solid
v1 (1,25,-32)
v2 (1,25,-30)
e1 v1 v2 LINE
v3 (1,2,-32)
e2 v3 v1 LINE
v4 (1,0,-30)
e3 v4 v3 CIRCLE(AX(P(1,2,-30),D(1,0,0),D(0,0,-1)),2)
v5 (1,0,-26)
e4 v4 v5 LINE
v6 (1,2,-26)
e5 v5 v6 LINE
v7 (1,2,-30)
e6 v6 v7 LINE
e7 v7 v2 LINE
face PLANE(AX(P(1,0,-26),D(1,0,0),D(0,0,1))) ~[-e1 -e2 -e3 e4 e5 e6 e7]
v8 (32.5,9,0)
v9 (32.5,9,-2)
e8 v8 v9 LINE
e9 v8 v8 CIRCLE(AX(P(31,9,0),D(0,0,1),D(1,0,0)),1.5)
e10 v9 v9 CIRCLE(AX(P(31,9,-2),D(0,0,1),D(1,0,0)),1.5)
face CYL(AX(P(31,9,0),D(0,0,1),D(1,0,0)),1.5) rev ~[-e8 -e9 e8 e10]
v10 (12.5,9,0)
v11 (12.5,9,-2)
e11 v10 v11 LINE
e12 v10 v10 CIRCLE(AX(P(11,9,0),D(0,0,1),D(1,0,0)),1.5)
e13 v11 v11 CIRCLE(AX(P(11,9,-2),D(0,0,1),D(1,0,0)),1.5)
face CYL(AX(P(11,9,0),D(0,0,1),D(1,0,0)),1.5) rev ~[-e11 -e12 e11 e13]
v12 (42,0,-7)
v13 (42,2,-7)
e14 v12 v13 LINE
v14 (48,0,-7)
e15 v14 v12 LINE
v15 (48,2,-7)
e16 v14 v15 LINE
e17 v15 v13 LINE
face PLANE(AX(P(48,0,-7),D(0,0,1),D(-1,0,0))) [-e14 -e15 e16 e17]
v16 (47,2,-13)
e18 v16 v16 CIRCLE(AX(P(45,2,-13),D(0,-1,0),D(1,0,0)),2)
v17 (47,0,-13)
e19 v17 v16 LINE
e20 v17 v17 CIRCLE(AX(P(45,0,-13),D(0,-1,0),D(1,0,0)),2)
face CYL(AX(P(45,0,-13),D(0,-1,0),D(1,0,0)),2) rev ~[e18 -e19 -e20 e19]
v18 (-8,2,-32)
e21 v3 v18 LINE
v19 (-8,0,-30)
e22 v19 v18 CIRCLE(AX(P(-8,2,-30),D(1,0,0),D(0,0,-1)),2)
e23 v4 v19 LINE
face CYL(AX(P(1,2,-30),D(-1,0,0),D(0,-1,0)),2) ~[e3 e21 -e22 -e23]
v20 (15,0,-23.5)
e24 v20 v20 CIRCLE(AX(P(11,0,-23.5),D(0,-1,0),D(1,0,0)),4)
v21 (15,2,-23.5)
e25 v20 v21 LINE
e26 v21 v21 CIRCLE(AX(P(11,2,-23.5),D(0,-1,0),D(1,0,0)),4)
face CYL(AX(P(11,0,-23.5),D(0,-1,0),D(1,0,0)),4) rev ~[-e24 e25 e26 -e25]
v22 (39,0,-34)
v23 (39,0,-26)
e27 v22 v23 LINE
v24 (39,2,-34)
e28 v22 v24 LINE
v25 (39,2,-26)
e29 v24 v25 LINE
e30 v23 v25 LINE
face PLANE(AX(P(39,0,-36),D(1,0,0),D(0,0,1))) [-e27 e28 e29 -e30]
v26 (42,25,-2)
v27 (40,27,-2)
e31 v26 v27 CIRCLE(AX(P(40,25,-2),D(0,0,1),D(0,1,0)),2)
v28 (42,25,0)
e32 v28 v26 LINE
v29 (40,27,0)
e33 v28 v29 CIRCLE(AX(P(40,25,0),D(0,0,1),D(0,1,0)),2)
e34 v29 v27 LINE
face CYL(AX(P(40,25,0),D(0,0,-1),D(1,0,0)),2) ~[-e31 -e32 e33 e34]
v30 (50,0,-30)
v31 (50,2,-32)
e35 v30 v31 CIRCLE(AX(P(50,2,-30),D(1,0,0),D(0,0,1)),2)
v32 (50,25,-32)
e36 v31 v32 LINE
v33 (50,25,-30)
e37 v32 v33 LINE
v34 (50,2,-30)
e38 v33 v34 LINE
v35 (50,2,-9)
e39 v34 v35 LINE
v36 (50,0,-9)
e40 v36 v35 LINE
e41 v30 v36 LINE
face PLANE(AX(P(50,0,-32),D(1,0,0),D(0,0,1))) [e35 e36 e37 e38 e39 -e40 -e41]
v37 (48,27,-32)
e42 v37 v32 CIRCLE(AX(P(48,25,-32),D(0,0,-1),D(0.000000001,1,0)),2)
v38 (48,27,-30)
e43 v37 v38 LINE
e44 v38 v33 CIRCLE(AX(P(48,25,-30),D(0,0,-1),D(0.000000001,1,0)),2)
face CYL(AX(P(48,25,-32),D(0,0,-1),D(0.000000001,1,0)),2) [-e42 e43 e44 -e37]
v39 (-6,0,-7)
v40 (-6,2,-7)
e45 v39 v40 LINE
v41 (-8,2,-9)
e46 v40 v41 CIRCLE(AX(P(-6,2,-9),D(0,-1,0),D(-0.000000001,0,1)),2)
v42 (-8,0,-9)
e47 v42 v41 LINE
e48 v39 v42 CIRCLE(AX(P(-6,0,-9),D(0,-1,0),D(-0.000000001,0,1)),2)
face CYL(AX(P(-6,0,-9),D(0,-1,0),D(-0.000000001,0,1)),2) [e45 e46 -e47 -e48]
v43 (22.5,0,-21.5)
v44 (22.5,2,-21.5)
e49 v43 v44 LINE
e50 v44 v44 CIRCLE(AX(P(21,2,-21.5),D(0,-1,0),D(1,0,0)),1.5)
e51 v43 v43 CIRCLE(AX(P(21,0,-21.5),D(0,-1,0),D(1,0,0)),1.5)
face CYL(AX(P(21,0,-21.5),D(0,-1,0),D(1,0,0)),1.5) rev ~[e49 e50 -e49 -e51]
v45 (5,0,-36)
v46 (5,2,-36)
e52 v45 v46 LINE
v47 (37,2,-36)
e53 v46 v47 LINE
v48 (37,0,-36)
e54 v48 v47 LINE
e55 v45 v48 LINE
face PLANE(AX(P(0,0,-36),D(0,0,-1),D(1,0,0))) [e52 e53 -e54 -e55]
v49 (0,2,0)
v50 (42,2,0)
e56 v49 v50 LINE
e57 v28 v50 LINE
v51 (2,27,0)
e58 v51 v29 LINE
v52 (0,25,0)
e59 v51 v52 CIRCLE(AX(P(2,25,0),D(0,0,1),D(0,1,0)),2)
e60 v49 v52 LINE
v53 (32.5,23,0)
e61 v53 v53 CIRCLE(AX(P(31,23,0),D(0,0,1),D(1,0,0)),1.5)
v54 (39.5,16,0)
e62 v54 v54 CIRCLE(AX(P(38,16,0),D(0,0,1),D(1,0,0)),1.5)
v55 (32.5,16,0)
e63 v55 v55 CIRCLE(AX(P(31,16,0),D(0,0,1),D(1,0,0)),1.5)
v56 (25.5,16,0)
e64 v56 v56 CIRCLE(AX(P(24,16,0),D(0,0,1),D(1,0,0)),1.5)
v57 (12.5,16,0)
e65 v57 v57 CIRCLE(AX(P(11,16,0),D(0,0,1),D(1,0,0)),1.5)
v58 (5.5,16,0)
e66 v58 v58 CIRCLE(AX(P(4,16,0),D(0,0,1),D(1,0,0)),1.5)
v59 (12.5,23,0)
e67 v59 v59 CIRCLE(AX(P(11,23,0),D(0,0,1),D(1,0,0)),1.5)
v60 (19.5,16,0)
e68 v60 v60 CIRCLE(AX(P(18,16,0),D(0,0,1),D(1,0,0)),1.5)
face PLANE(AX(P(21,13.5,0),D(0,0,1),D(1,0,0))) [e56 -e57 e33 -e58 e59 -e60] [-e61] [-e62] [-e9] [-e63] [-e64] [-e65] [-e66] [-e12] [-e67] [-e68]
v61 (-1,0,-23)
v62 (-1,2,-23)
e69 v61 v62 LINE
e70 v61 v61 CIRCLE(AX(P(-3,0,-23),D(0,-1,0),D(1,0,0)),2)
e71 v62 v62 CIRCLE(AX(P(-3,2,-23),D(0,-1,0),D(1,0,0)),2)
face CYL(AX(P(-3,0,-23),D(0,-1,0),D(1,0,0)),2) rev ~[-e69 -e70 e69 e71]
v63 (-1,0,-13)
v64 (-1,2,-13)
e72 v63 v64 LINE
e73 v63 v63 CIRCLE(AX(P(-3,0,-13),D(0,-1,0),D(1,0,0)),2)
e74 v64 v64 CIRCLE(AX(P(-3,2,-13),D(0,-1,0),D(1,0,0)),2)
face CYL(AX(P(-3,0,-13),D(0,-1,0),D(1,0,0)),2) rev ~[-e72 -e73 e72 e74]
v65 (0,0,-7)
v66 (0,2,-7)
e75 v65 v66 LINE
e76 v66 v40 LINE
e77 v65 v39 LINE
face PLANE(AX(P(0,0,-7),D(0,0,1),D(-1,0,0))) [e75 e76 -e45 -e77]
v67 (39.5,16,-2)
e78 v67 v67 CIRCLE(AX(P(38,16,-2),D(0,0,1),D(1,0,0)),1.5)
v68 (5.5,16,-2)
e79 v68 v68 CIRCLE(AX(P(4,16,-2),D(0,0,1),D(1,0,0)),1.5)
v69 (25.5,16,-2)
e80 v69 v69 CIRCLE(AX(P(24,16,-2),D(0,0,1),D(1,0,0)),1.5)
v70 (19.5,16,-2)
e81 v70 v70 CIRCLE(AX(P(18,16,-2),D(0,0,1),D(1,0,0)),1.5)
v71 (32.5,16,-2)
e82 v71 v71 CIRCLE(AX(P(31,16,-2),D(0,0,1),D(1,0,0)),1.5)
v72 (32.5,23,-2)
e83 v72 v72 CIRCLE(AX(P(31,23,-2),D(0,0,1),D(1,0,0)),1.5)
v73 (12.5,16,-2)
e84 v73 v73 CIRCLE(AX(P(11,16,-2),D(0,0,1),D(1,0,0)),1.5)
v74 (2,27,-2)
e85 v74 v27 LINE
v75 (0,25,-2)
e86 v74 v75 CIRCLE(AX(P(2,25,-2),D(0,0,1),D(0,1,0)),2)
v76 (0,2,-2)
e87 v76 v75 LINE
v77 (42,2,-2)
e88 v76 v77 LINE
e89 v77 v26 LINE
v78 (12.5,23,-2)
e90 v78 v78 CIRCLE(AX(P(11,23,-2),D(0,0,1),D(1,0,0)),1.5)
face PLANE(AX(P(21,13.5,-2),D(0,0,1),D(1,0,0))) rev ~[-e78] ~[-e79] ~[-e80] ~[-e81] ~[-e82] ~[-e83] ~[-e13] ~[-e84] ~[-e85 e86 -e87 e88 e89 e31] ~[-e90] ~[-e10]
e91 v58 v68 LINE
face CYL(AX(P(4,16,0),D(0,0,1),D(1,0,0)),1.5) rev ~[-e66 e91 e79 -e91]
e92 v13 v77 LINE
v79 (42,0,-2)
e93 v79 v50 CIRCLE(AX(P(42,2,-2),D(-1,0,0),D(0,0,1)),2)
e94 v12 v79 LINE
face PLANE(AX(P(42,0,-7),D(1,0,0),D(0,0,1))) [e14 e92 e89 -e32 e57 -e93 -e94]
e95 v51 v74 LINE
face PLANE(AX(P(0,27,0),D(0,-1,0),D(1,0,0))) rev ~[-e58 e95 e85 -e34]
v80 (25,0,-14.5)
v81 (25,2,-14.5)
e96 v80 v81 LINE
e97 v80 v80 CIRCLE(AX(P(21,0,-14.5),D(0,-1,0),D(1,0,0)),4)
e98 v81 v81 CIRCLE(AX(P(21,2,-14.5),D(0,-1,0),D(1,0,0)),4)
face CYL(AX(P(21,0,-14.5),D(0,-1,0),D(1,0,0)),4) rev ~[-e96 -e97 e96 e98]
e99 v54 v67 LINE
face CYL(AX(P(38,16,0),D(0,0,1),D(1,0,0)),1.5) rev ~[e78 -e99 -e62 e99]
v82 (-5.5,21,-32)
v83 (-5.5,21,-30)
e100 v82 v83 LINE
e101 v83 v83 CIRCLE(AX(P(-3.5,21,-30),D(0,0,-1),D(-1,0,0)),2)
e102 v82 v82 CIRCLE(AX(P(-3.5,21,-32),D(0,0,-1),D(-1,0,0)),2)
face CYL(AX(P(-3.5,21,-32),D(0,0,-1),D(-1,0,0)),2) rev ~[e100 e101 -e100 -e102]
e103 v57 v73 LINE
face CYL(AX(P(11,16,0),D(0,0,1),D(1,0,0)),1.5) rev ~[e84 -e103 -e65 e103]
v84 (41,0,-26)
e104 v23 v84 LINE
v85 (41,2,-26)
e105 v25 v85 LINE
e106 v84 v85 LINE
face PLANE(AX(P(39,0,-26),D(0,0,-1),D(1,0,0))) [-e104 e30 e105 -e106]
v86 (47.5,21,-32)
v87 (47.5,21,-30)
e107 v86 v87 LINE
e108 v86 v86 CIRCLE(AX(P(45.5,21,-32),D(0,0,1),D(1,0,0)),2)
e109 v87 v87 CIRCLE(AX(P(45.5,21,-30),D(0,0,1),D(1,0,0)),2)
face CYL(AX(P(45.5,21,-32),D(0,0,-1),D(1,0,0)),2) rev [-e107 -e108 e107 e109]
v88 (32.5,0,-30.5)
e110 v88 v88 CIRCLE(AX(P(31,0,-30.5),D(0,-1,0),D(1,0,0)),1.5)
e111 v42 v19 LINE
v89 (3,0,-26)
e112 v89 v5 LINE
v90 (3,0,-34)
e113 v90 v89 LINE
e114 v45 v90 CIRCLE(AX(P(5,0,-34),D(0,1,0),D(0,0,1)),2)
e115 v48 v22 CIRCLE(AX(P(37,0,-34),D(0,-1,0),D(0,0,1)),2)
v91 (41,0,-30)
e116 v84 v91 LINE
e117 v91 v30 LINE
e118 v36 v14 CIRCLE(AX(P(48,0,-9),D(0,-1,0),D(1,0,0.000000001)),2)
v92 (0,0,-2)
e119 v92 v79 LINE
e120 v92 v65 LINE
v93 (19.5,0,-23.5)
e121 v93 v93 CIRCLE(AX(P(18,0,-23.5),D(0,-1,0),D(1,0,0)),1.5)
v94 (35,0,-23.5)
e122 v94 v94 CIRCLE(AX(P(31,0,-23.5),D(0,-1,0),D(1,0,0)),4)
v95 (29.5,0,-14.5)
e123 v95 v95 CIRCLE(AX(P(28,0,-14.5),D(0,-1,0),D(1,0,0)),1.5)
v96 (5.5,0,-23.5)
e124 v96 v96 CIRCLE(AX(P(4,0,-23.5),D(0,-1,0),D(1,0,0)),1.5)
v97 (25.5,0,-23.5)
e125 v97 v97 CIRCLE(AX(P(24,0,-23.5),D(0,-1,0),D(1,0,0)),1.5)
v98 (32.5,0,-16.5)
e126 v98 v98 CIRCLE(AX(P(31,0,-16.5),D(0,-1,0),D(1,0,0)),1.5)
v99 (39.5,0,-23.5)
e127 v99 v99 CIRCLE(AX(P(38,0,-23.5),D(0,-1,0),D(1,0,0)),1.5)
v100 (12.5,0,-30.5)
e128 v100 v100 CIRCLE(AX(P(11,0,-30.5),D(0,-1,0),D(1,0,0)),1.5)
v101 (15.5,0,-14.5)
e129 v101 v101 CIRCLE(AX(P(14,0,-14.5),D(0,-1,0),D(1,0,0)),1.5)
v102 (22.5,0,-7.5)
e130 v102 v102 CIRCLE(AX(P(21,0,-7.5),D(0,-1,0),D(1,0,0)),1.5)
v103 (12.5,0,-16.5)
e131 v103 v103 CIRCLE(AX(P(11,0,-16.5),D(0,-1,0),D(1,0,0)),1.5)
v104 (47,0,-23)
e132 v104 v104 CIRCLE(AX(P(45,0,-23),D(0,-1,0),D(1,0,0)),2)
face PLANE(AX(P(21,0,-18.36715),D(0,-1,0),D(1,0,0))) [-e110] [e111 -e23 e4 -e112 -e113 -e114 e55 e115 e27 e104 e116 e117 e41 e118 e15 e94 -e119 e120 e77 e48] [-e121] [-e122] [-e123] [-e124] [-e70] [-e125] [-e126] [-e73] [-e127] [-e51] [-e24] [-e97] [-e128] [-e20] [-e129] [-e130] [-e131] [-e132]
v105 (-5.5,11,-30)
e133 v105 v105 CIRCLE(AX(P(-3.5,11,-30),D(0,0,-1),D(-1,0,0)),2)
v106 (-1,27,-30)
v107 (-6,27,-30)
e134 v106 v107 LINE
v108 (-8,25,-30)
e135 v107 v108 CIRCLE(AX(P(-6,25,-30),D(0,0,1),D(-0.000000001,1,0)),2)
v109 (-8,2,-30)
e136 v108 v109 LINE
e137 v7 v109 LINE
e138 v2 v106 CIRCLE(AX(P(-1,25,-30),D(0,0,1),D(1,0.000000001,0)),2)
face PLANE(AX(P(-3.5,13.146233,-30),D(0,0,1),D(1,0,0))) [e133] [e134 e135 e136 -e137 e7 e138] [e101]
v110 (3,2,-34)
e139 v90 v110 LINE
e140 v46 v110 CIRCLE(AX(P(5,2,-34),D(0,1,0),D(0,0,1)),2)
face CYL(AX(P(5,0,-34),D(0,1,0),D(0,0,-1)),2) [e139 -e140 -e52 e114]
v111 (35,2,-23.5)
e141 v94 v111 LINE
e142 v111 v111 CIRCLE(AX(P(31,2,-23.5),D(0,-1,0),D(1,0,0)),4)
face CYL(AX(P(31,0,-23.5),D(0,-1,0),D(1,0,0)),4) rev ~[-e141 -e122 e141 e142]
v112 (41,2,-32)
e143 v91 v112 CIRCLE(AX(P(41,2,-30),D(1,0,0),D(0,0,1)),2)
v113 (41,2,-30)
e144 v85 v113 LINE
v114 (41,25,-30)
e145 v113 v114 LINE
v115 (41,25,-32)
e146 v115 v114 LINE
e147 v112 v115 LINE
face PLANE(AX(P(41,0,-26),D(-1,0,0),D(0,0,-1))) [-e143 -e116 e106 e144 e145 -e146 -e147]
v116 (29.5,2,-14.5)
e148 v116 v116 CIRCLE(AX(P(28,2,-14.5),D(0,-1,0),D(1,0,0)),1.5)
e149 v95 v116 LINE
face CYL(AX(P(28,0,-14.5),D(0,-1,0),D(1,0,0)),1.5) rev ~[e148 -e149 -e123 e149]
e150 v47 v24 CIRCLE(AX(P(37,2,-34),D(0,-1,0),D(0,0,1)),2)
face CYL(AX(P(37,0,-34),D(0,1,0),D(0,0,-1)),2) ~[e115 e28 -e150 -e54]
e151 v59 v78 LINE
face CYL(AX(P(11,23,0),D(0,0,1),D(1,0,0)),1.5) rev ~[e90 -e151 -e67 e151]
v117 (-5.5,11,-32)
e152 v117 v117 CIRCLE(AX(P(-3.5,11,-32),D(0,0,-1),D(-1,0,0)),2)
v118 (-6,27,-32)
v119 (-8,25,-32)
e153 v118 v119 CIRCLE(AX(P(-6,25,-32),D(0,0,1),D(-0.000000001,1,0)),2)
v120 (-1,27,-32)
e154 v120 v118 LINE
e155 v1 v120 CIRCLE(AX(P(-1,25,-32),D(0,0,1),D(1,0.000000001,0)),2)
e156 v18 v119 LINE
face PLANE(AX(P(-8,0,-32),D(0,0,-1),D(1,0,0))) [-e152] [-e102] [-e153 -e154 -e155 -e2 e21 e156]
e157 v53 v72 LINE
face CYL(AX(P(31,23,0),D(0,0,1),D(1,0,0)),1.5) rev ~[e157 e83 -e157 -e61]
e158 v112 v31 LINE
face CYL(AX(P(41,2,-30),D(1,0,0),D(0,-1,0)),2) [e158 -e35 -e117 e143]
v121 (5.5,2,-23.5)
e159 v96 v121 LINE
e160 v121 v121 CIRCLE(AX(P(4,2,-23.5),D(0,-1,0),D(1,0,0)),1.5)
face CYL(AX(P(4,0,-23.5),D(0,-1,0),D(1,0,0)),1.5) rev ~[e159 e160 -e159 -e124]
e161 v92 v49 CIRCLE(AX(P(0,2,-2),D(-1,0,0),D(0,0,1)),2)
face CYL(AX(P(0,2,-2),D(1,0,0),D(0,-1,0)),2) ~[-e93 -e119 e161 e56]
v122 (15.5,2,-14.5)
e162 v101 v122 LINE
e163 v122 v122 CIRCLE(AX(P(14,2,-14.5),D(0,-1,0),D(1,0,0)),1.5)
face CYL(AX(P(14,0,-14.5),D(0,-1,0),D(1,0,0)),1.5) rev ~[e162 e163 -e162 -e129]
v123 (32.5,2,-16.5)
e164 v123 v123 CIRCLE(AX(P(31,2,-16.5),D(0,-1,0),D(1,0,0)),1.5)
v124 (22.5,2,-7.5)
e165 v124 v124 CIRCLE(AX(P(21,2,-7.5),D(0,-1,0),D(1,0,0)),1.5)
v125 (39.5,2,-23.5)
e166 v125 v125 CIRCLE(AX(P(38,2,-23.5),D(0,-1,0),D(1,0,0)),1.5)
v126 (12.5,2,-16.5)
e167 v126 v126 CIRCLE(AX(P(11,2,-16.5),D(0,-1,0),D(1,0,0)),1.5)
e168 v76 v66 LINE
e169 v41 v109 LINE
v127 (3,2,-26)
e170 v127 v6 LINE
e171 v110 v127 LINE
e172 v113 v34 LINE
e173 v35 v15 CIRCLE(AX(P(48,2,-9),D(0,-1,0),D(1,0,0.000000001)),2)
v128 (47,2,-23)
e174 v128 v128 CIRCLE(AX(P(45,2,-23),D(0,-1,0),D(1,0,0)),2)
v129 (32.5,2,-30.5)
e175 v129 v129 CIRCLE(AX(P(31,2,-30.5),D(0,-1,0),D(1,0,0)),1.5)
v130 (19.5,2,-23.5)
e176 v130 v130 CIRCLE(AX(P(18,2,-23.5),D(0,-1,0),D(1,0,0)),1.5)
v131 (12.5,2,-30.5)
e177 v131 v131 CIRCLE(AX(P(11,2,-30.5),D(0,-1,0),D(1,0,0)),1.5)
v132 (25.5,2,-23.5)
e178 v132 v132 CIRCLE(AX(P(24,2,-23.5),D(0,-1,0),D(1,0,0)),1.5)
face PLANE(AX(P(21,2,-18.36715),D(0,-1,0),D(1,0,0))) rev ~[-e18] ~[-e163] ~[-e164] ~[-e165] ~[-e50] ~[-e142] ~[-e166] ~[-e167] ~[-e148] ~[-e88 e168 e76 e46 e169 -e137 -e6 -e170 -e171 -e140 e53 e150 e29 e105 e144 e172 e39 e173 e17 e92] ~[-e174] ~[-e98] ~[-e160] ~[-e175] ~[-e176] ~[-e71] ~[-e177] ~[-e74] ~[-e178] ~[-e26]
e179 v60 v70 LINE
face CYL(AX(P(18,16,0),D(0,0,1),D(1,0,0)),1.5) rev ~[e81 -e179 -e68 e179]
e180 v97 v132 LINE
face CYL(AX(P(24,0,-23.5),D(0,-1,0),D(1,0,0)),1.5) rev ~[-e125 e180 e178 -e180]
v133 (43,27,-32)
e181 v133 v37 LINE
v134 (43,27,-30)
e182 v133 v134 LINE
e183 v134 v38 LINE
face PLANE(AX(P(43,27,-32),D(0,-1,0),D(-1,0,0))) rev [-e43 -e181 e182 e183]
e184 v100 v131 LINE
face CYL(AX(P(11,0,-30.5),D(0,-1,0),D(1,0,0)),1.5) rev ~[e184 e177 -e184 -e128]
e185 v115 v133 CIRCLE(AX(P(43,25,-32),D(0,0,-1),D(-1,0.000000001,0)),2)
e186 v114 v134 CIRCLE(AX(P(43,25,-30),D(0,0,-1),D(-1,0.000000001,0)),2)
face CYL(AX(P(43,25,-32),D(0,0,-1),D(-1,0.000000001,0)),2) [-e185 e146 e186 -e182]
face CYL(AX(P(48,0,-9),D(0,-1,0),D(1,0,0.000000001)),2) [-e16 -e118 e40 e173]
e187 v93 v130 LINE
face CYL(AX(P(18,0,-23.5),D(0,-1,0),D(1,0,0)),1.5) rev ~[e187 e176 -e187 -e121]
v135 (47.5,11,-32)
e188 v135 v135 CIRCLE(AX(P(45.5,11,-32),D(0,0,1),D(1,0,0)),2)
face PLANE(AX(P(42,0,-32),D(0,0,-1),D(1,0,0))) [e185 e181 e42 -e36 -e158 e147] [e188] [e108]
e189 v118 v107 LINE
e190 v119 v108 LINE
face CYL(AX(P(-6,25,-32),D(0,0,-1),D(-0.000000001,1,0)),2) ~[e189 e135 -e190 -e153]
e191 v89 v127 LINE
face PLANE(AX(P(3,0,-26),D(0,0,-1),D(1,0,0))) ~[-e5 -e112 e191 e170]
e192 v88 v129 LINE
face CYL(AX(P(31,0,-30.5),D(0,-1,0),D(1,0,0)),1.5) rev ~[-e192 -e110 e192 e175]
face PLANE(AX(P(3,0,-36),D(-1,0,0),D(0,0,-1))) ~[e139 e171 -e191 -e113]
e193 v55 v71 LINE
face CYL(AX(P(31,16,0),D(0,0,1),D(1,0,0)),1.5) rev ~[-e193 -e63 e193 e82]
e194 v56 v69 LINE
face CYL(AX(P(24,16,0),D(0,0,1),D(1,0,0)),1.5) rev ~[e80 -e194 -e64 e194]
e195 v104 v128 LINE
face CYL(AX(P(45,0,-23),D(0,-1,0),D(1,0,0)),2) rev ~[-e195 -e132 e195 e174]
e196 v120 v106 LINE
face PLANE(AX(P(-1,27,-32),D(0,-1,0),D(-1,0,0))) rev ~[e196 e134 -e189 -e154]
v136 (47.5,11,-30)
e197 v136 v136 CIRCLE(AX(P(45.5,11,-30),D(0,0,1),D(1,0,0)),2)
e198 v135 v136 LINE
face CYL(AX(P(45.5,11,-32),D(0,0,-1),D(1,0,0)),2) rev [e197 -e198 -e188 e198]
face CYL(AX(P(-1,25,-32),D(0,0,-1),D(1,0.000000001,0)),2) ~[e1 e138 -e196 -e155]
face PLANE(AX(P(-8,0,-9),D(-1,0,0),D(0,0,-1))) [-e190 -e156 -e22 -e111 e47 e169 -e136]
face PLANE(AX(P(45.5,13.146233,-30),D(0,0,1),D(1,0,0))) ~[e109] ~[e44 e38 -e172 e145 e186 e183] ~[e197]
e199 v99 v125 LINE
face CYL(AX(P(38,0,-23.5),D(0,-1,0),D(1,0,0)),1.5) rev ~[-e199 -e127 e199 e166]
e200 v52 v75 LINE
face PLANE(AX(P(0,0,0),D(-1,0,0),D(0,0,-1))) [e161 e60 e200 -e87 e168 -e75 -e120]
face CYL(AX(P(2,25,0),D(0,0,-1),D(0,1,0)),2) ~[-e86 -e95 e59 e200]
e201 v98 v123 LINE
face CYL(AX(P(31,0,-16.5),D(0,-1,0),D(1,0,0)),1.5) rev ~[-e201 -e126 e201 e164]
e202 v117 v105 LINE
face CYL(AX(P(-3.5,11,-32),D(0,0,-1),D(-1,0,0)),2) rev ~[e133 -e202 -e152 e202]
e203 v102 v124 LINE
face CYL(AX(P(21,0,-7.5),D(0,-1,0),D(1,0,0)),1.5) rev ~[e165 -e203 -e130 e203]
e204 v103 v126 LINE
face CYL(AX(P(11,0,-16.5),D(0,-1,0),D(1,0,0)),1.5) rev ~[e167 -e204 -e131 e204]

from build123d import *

# Parameters (mm, degrees)
SKETCH1_W           = 42
SKETCH1_H           = 27
SKETCH1_R           = 1.5
BOSS_EXTRUDE1_DEPTH = 2
SKETCH2_R           = 2
SKETCH2_R_2         = 4
SKETCH2_R_3         = 1.5
BOSS_EXTRUDE2_DEPTH = 2
CUT_EXTRUDE1_DEPTH  = 2
FILLET1_R           = 2
FILLET2_R           = 2
FILLET3_R           = 2
FILLET4_R           = 2
FILLET5_R           = 2
BOSS_EXTRUDE3_DEPTH = 2
FILLET6_R           = 2
FILLET7_R           = 2
SKETCH5_R           = 2
CUT_EXTRUDE2_DEPTH  = 2


with BuildPart() as part:
    # Sketch1 → Boss-Extrude1 (new body)
    with BuildSketch(Plane.XY):
        with Locations((21, 13.5)):
            Rectangle(SKETCH1_W, SKETCH1_H)
        with Locations((11, 16)):
            Circle(SKETCH1_R, mode=Mode.SUBTRACT)
        with Locations((11, 23)):
            Circle(SKETCH1_R, mode=Mode.SUBTRACT)
        with Locations((18, 16)):
            Circle(SKETCH1_R, mode=Mode.SUBTRACT)
        with Locations((4, 16)):
            Circle(SKETCH1_R, mode=Mode.SUBTRACT)
        with Locations((11, 9)):
            Circle(SKETCH1_R, mode=Mode.SUBTRACT)
        with Locations((31, 16)):
            Circle(SKETCH1_R, mode=Mode.SUBTRACT)
        with Locations((38, 16)):
            Circle(SKETCH1_R, mode=Mode.SUBTRACT)
        with Locations((31, 23)):
            Circle(SKETCH1_R, mode=Mode.SUBTRACT)
        with Locations((24, 16)):
            Circle(SKETCH1_R, mode=Mode.SUBTRACT)
        with Locations((31, 9)):
            Circle(SKETCH1_R, mode=Mode.SUBTRACT)
    extrude(amount=-BOSS_EXTRUDE1_DEPTH)

    # Sketch2 → Boss-Extrude2 (add)
    with BuildSketch(Plane.XZ):
        with BuildLine():
            Line((0, -32), (0, -36))
            Line((0, -36), (42, -36))
            Line((42, -36), (42, -32))
            Line((42, -32), (50, -32))
            Line((50, -32), (50, -9))
            ThreePointArc((50, -9), (49.414213562, -7.585786438), (48, -7))
            Line((48, -7), (42, -7))
            Line((42, -7), (42, 0))
            Line((42, 0), (0, 0))
            Line((0, 0), (0, -7))
            Line((0, -7), (-6, -7))
            ThreePointArc((-6, -7), (-7.414213562, -7.585786438), (-8, -9))
            Line((-8, -9), (-8, -32))
            Line((-8, -32), (0, -32))
        make_face()
        with Locations((45, -13)):
            Circle(SKETCH2_R, mode=Mode.SUBTRACT)
        with Locations((45, -23)):
            Circle(SKETCH2_R, mode=Mode.SUBTRACT)
        with Locations((-3, -13)):
            Circle(SKETCH2_R, mode=Mode.SUBTRACT)
        with Locations((-3, -23)):
            Circle(SKETCH2_R, mode=Mode.SUBTRACT)
        with Locations((11, -23.5)):
            Circle(SKETCH2_R_2, mode=Mode.SUBTRACT)
        with Locations((31, -23.5)):
            Circle(SKETCH2_R_2, mode=Mode.SUBTRACT)
        with Locations((21, -14.5)):
            Circle(SKETCH2_R_2, mode=Mode.SUBTRACT)
        with Locations((11, -16.5)):
            Circle(SKETCH2_R_3, mode=Mode.SUBTRACT)
        with Locations((11, -30.5)):
            Circle(SKETCH2_R_3, mode=Mode.SUBTRACT)
        with Locations((18, -23.5)):
            Circle(SKETCH2_R_3, mode=Mode.SUBTRACT)
        with Locations((4, -23.5)):
            Circle(SKETCH2_R_3, mode=Mode.SUBTRACT)
        with Locations((31, -30.5)):
            Circle(SKETCH2_R_3, mode=Mode.SUBTRACT)
        with Locations((24, -23.5)):
            Circle(SKETCH2_R_3, mode=Mode.SUBTRACT)
        with Locations((31, -16.5)):
            Circle(SKETCH2_R_3, mode=Mode.SUBTRACT)
        with Locations((38, -23.5)):
            Circle(SKETCH2_R_3, mode=Mode.SUBTRACT)
        with Locations((21, -21.5)):
            Circle(SKETCH2_R_3, mode=Mode.SUBTRACT)
        with Locations((21, -7.5)):
            Circle(SKETCH2_R_3, mode=Mode.SUBTRACT)
        with Locations((28, -14.5)):
            Circle(SKETCH2_R_3, mode=Mode.SUBTRACT)
        with Locations((14, -14.5)):
            Circle(SKETCH2_R_3, mode=Mode.SUBTRACT)
    extrude(amount=-BOSS_EXTRUDE2_DEPTH)

    # Sketch3 → Cut-Extrude1 (cut)
    with BuildSketch(Plane.XZ):
        Polygon((39, -36), (39, -26), (41, -26), (41, -32), (42, -32), (42, -36), align=None)
    cut_extrude1 = extrude(amount=-CUT_EXTRUDE1_DEPTH, mode=Mode.SUBTRACT)

    # Mirror1: Cut-Extrude1 across plane
    add(cut_extrude1.mirror(Plane(origin=(21, 0, 0), x_dir=(0, 0, 1), z_dir=(1, 0, 0))), mode=Mode.SUBTRACT)

    # Fillet1
    fillet1_edges = [part.edges().sort_by_distance(p)[0] for p in [
        (3, 1, -36),
    ]]
    fillet(fillet1_edges, radius=FILLET1_R)

    # Fillet2
    fillet2_edges = [part.edges().sort_by_distance(p)[0] for p in [
        (39, 1, -36),
    ]]
    fillet(fillet2_edges, radius=FILLET2_R)

    # Fillet3
    fillet3_edges = [part.edges().sort_by_distance(p)[0] for p in [
        (21, 0, 0),
    ]]
    fillet(fillet3_edges, radius=FILLET3_R)

    # Fillet4
    fillet4_edges = [part.edges().sort_by_distance(p)[0] for p in [
        (42, 27, -1),
    ]]
    fillet(fillet4_edges, radius=FILLET4_R)

    # Fillet5
    fillet5_edges = [part.edges().sort_by_distance(p)[0] for p in [
        (0, 27, -1),
    ]]
    fillet(fillet5_edges, radius=FILLET5_R)

    # Sketch4 → Boss-Extrude3 (add)
    with BuildSketch(Plane(origin=(0, 0, -32), x_dir=(-1, 0, 0), z_dir=(0, 0, -1))):
        with BuildLine():
            Line((8, 0), (-1, 0))
            Line((-1, 0), (-1, 25))
            ThreePointArc((-1, 25), (-0.414213562, 26.414213562), (1, 27))
            Line((1, 27), (6, 27))
            ThreePointArc((6, 27), (7.414213562, 26.414213562), (8, 25))
            Line((8, 25), (8, 0))
        make_face()
    boss_extrude3 = extrude(amount=-BOSS_EXTRUDE3_DEPTH)

    # Mirror2: Boss-Extrude3 across plane
    add(boss_extrude3.mirror(Plane(origin=(21, 0, 0), x_dir=(0, 0, 1), z_dir=(1, 0, 0))))

    # Fillet6
    fillet6_edges = [part.edges().sort_by_distance(p)[0] for p in [
        (45.5, 0, -32),
    ]]
    fillet(fillet6_edges, radius=FILLET6_R)

    # Fillet7
    fillet7_edges = [part.edges().sort_by_distance(p)[0] for p in [
        (-3.5, 0, -32),
    ]]
    fillet(fillet7_edges, radius=FILLET7_R)

    # Sketch5 → Cut-Extrude2 (cut)
    with BuildSketch(Plane(origin=(0, 0, -32), x_dir=(-1, 0, 0), z_dir=(0, 0, -1))):
        with Locations((3.5, 21)):
            Circle(SKETCH5_R)
        with Locations((3.5, 11)):
            Circle(SKETCH5_R)
    cut_extrude2 = extrude(amount=-CUT_EXTRUDE2_DEPTH, mode=Mode.SUBTRACT)

    # Mirror3: Cut-Extrude2 across plane
    add(cut_extrude2.mirror(Plane(origin=(21, 0, 0), x_dir=(0, 0, 1), z_dir=(1, 0, 0))), mode=Mode.SUBTRACT)


solid = part.part
